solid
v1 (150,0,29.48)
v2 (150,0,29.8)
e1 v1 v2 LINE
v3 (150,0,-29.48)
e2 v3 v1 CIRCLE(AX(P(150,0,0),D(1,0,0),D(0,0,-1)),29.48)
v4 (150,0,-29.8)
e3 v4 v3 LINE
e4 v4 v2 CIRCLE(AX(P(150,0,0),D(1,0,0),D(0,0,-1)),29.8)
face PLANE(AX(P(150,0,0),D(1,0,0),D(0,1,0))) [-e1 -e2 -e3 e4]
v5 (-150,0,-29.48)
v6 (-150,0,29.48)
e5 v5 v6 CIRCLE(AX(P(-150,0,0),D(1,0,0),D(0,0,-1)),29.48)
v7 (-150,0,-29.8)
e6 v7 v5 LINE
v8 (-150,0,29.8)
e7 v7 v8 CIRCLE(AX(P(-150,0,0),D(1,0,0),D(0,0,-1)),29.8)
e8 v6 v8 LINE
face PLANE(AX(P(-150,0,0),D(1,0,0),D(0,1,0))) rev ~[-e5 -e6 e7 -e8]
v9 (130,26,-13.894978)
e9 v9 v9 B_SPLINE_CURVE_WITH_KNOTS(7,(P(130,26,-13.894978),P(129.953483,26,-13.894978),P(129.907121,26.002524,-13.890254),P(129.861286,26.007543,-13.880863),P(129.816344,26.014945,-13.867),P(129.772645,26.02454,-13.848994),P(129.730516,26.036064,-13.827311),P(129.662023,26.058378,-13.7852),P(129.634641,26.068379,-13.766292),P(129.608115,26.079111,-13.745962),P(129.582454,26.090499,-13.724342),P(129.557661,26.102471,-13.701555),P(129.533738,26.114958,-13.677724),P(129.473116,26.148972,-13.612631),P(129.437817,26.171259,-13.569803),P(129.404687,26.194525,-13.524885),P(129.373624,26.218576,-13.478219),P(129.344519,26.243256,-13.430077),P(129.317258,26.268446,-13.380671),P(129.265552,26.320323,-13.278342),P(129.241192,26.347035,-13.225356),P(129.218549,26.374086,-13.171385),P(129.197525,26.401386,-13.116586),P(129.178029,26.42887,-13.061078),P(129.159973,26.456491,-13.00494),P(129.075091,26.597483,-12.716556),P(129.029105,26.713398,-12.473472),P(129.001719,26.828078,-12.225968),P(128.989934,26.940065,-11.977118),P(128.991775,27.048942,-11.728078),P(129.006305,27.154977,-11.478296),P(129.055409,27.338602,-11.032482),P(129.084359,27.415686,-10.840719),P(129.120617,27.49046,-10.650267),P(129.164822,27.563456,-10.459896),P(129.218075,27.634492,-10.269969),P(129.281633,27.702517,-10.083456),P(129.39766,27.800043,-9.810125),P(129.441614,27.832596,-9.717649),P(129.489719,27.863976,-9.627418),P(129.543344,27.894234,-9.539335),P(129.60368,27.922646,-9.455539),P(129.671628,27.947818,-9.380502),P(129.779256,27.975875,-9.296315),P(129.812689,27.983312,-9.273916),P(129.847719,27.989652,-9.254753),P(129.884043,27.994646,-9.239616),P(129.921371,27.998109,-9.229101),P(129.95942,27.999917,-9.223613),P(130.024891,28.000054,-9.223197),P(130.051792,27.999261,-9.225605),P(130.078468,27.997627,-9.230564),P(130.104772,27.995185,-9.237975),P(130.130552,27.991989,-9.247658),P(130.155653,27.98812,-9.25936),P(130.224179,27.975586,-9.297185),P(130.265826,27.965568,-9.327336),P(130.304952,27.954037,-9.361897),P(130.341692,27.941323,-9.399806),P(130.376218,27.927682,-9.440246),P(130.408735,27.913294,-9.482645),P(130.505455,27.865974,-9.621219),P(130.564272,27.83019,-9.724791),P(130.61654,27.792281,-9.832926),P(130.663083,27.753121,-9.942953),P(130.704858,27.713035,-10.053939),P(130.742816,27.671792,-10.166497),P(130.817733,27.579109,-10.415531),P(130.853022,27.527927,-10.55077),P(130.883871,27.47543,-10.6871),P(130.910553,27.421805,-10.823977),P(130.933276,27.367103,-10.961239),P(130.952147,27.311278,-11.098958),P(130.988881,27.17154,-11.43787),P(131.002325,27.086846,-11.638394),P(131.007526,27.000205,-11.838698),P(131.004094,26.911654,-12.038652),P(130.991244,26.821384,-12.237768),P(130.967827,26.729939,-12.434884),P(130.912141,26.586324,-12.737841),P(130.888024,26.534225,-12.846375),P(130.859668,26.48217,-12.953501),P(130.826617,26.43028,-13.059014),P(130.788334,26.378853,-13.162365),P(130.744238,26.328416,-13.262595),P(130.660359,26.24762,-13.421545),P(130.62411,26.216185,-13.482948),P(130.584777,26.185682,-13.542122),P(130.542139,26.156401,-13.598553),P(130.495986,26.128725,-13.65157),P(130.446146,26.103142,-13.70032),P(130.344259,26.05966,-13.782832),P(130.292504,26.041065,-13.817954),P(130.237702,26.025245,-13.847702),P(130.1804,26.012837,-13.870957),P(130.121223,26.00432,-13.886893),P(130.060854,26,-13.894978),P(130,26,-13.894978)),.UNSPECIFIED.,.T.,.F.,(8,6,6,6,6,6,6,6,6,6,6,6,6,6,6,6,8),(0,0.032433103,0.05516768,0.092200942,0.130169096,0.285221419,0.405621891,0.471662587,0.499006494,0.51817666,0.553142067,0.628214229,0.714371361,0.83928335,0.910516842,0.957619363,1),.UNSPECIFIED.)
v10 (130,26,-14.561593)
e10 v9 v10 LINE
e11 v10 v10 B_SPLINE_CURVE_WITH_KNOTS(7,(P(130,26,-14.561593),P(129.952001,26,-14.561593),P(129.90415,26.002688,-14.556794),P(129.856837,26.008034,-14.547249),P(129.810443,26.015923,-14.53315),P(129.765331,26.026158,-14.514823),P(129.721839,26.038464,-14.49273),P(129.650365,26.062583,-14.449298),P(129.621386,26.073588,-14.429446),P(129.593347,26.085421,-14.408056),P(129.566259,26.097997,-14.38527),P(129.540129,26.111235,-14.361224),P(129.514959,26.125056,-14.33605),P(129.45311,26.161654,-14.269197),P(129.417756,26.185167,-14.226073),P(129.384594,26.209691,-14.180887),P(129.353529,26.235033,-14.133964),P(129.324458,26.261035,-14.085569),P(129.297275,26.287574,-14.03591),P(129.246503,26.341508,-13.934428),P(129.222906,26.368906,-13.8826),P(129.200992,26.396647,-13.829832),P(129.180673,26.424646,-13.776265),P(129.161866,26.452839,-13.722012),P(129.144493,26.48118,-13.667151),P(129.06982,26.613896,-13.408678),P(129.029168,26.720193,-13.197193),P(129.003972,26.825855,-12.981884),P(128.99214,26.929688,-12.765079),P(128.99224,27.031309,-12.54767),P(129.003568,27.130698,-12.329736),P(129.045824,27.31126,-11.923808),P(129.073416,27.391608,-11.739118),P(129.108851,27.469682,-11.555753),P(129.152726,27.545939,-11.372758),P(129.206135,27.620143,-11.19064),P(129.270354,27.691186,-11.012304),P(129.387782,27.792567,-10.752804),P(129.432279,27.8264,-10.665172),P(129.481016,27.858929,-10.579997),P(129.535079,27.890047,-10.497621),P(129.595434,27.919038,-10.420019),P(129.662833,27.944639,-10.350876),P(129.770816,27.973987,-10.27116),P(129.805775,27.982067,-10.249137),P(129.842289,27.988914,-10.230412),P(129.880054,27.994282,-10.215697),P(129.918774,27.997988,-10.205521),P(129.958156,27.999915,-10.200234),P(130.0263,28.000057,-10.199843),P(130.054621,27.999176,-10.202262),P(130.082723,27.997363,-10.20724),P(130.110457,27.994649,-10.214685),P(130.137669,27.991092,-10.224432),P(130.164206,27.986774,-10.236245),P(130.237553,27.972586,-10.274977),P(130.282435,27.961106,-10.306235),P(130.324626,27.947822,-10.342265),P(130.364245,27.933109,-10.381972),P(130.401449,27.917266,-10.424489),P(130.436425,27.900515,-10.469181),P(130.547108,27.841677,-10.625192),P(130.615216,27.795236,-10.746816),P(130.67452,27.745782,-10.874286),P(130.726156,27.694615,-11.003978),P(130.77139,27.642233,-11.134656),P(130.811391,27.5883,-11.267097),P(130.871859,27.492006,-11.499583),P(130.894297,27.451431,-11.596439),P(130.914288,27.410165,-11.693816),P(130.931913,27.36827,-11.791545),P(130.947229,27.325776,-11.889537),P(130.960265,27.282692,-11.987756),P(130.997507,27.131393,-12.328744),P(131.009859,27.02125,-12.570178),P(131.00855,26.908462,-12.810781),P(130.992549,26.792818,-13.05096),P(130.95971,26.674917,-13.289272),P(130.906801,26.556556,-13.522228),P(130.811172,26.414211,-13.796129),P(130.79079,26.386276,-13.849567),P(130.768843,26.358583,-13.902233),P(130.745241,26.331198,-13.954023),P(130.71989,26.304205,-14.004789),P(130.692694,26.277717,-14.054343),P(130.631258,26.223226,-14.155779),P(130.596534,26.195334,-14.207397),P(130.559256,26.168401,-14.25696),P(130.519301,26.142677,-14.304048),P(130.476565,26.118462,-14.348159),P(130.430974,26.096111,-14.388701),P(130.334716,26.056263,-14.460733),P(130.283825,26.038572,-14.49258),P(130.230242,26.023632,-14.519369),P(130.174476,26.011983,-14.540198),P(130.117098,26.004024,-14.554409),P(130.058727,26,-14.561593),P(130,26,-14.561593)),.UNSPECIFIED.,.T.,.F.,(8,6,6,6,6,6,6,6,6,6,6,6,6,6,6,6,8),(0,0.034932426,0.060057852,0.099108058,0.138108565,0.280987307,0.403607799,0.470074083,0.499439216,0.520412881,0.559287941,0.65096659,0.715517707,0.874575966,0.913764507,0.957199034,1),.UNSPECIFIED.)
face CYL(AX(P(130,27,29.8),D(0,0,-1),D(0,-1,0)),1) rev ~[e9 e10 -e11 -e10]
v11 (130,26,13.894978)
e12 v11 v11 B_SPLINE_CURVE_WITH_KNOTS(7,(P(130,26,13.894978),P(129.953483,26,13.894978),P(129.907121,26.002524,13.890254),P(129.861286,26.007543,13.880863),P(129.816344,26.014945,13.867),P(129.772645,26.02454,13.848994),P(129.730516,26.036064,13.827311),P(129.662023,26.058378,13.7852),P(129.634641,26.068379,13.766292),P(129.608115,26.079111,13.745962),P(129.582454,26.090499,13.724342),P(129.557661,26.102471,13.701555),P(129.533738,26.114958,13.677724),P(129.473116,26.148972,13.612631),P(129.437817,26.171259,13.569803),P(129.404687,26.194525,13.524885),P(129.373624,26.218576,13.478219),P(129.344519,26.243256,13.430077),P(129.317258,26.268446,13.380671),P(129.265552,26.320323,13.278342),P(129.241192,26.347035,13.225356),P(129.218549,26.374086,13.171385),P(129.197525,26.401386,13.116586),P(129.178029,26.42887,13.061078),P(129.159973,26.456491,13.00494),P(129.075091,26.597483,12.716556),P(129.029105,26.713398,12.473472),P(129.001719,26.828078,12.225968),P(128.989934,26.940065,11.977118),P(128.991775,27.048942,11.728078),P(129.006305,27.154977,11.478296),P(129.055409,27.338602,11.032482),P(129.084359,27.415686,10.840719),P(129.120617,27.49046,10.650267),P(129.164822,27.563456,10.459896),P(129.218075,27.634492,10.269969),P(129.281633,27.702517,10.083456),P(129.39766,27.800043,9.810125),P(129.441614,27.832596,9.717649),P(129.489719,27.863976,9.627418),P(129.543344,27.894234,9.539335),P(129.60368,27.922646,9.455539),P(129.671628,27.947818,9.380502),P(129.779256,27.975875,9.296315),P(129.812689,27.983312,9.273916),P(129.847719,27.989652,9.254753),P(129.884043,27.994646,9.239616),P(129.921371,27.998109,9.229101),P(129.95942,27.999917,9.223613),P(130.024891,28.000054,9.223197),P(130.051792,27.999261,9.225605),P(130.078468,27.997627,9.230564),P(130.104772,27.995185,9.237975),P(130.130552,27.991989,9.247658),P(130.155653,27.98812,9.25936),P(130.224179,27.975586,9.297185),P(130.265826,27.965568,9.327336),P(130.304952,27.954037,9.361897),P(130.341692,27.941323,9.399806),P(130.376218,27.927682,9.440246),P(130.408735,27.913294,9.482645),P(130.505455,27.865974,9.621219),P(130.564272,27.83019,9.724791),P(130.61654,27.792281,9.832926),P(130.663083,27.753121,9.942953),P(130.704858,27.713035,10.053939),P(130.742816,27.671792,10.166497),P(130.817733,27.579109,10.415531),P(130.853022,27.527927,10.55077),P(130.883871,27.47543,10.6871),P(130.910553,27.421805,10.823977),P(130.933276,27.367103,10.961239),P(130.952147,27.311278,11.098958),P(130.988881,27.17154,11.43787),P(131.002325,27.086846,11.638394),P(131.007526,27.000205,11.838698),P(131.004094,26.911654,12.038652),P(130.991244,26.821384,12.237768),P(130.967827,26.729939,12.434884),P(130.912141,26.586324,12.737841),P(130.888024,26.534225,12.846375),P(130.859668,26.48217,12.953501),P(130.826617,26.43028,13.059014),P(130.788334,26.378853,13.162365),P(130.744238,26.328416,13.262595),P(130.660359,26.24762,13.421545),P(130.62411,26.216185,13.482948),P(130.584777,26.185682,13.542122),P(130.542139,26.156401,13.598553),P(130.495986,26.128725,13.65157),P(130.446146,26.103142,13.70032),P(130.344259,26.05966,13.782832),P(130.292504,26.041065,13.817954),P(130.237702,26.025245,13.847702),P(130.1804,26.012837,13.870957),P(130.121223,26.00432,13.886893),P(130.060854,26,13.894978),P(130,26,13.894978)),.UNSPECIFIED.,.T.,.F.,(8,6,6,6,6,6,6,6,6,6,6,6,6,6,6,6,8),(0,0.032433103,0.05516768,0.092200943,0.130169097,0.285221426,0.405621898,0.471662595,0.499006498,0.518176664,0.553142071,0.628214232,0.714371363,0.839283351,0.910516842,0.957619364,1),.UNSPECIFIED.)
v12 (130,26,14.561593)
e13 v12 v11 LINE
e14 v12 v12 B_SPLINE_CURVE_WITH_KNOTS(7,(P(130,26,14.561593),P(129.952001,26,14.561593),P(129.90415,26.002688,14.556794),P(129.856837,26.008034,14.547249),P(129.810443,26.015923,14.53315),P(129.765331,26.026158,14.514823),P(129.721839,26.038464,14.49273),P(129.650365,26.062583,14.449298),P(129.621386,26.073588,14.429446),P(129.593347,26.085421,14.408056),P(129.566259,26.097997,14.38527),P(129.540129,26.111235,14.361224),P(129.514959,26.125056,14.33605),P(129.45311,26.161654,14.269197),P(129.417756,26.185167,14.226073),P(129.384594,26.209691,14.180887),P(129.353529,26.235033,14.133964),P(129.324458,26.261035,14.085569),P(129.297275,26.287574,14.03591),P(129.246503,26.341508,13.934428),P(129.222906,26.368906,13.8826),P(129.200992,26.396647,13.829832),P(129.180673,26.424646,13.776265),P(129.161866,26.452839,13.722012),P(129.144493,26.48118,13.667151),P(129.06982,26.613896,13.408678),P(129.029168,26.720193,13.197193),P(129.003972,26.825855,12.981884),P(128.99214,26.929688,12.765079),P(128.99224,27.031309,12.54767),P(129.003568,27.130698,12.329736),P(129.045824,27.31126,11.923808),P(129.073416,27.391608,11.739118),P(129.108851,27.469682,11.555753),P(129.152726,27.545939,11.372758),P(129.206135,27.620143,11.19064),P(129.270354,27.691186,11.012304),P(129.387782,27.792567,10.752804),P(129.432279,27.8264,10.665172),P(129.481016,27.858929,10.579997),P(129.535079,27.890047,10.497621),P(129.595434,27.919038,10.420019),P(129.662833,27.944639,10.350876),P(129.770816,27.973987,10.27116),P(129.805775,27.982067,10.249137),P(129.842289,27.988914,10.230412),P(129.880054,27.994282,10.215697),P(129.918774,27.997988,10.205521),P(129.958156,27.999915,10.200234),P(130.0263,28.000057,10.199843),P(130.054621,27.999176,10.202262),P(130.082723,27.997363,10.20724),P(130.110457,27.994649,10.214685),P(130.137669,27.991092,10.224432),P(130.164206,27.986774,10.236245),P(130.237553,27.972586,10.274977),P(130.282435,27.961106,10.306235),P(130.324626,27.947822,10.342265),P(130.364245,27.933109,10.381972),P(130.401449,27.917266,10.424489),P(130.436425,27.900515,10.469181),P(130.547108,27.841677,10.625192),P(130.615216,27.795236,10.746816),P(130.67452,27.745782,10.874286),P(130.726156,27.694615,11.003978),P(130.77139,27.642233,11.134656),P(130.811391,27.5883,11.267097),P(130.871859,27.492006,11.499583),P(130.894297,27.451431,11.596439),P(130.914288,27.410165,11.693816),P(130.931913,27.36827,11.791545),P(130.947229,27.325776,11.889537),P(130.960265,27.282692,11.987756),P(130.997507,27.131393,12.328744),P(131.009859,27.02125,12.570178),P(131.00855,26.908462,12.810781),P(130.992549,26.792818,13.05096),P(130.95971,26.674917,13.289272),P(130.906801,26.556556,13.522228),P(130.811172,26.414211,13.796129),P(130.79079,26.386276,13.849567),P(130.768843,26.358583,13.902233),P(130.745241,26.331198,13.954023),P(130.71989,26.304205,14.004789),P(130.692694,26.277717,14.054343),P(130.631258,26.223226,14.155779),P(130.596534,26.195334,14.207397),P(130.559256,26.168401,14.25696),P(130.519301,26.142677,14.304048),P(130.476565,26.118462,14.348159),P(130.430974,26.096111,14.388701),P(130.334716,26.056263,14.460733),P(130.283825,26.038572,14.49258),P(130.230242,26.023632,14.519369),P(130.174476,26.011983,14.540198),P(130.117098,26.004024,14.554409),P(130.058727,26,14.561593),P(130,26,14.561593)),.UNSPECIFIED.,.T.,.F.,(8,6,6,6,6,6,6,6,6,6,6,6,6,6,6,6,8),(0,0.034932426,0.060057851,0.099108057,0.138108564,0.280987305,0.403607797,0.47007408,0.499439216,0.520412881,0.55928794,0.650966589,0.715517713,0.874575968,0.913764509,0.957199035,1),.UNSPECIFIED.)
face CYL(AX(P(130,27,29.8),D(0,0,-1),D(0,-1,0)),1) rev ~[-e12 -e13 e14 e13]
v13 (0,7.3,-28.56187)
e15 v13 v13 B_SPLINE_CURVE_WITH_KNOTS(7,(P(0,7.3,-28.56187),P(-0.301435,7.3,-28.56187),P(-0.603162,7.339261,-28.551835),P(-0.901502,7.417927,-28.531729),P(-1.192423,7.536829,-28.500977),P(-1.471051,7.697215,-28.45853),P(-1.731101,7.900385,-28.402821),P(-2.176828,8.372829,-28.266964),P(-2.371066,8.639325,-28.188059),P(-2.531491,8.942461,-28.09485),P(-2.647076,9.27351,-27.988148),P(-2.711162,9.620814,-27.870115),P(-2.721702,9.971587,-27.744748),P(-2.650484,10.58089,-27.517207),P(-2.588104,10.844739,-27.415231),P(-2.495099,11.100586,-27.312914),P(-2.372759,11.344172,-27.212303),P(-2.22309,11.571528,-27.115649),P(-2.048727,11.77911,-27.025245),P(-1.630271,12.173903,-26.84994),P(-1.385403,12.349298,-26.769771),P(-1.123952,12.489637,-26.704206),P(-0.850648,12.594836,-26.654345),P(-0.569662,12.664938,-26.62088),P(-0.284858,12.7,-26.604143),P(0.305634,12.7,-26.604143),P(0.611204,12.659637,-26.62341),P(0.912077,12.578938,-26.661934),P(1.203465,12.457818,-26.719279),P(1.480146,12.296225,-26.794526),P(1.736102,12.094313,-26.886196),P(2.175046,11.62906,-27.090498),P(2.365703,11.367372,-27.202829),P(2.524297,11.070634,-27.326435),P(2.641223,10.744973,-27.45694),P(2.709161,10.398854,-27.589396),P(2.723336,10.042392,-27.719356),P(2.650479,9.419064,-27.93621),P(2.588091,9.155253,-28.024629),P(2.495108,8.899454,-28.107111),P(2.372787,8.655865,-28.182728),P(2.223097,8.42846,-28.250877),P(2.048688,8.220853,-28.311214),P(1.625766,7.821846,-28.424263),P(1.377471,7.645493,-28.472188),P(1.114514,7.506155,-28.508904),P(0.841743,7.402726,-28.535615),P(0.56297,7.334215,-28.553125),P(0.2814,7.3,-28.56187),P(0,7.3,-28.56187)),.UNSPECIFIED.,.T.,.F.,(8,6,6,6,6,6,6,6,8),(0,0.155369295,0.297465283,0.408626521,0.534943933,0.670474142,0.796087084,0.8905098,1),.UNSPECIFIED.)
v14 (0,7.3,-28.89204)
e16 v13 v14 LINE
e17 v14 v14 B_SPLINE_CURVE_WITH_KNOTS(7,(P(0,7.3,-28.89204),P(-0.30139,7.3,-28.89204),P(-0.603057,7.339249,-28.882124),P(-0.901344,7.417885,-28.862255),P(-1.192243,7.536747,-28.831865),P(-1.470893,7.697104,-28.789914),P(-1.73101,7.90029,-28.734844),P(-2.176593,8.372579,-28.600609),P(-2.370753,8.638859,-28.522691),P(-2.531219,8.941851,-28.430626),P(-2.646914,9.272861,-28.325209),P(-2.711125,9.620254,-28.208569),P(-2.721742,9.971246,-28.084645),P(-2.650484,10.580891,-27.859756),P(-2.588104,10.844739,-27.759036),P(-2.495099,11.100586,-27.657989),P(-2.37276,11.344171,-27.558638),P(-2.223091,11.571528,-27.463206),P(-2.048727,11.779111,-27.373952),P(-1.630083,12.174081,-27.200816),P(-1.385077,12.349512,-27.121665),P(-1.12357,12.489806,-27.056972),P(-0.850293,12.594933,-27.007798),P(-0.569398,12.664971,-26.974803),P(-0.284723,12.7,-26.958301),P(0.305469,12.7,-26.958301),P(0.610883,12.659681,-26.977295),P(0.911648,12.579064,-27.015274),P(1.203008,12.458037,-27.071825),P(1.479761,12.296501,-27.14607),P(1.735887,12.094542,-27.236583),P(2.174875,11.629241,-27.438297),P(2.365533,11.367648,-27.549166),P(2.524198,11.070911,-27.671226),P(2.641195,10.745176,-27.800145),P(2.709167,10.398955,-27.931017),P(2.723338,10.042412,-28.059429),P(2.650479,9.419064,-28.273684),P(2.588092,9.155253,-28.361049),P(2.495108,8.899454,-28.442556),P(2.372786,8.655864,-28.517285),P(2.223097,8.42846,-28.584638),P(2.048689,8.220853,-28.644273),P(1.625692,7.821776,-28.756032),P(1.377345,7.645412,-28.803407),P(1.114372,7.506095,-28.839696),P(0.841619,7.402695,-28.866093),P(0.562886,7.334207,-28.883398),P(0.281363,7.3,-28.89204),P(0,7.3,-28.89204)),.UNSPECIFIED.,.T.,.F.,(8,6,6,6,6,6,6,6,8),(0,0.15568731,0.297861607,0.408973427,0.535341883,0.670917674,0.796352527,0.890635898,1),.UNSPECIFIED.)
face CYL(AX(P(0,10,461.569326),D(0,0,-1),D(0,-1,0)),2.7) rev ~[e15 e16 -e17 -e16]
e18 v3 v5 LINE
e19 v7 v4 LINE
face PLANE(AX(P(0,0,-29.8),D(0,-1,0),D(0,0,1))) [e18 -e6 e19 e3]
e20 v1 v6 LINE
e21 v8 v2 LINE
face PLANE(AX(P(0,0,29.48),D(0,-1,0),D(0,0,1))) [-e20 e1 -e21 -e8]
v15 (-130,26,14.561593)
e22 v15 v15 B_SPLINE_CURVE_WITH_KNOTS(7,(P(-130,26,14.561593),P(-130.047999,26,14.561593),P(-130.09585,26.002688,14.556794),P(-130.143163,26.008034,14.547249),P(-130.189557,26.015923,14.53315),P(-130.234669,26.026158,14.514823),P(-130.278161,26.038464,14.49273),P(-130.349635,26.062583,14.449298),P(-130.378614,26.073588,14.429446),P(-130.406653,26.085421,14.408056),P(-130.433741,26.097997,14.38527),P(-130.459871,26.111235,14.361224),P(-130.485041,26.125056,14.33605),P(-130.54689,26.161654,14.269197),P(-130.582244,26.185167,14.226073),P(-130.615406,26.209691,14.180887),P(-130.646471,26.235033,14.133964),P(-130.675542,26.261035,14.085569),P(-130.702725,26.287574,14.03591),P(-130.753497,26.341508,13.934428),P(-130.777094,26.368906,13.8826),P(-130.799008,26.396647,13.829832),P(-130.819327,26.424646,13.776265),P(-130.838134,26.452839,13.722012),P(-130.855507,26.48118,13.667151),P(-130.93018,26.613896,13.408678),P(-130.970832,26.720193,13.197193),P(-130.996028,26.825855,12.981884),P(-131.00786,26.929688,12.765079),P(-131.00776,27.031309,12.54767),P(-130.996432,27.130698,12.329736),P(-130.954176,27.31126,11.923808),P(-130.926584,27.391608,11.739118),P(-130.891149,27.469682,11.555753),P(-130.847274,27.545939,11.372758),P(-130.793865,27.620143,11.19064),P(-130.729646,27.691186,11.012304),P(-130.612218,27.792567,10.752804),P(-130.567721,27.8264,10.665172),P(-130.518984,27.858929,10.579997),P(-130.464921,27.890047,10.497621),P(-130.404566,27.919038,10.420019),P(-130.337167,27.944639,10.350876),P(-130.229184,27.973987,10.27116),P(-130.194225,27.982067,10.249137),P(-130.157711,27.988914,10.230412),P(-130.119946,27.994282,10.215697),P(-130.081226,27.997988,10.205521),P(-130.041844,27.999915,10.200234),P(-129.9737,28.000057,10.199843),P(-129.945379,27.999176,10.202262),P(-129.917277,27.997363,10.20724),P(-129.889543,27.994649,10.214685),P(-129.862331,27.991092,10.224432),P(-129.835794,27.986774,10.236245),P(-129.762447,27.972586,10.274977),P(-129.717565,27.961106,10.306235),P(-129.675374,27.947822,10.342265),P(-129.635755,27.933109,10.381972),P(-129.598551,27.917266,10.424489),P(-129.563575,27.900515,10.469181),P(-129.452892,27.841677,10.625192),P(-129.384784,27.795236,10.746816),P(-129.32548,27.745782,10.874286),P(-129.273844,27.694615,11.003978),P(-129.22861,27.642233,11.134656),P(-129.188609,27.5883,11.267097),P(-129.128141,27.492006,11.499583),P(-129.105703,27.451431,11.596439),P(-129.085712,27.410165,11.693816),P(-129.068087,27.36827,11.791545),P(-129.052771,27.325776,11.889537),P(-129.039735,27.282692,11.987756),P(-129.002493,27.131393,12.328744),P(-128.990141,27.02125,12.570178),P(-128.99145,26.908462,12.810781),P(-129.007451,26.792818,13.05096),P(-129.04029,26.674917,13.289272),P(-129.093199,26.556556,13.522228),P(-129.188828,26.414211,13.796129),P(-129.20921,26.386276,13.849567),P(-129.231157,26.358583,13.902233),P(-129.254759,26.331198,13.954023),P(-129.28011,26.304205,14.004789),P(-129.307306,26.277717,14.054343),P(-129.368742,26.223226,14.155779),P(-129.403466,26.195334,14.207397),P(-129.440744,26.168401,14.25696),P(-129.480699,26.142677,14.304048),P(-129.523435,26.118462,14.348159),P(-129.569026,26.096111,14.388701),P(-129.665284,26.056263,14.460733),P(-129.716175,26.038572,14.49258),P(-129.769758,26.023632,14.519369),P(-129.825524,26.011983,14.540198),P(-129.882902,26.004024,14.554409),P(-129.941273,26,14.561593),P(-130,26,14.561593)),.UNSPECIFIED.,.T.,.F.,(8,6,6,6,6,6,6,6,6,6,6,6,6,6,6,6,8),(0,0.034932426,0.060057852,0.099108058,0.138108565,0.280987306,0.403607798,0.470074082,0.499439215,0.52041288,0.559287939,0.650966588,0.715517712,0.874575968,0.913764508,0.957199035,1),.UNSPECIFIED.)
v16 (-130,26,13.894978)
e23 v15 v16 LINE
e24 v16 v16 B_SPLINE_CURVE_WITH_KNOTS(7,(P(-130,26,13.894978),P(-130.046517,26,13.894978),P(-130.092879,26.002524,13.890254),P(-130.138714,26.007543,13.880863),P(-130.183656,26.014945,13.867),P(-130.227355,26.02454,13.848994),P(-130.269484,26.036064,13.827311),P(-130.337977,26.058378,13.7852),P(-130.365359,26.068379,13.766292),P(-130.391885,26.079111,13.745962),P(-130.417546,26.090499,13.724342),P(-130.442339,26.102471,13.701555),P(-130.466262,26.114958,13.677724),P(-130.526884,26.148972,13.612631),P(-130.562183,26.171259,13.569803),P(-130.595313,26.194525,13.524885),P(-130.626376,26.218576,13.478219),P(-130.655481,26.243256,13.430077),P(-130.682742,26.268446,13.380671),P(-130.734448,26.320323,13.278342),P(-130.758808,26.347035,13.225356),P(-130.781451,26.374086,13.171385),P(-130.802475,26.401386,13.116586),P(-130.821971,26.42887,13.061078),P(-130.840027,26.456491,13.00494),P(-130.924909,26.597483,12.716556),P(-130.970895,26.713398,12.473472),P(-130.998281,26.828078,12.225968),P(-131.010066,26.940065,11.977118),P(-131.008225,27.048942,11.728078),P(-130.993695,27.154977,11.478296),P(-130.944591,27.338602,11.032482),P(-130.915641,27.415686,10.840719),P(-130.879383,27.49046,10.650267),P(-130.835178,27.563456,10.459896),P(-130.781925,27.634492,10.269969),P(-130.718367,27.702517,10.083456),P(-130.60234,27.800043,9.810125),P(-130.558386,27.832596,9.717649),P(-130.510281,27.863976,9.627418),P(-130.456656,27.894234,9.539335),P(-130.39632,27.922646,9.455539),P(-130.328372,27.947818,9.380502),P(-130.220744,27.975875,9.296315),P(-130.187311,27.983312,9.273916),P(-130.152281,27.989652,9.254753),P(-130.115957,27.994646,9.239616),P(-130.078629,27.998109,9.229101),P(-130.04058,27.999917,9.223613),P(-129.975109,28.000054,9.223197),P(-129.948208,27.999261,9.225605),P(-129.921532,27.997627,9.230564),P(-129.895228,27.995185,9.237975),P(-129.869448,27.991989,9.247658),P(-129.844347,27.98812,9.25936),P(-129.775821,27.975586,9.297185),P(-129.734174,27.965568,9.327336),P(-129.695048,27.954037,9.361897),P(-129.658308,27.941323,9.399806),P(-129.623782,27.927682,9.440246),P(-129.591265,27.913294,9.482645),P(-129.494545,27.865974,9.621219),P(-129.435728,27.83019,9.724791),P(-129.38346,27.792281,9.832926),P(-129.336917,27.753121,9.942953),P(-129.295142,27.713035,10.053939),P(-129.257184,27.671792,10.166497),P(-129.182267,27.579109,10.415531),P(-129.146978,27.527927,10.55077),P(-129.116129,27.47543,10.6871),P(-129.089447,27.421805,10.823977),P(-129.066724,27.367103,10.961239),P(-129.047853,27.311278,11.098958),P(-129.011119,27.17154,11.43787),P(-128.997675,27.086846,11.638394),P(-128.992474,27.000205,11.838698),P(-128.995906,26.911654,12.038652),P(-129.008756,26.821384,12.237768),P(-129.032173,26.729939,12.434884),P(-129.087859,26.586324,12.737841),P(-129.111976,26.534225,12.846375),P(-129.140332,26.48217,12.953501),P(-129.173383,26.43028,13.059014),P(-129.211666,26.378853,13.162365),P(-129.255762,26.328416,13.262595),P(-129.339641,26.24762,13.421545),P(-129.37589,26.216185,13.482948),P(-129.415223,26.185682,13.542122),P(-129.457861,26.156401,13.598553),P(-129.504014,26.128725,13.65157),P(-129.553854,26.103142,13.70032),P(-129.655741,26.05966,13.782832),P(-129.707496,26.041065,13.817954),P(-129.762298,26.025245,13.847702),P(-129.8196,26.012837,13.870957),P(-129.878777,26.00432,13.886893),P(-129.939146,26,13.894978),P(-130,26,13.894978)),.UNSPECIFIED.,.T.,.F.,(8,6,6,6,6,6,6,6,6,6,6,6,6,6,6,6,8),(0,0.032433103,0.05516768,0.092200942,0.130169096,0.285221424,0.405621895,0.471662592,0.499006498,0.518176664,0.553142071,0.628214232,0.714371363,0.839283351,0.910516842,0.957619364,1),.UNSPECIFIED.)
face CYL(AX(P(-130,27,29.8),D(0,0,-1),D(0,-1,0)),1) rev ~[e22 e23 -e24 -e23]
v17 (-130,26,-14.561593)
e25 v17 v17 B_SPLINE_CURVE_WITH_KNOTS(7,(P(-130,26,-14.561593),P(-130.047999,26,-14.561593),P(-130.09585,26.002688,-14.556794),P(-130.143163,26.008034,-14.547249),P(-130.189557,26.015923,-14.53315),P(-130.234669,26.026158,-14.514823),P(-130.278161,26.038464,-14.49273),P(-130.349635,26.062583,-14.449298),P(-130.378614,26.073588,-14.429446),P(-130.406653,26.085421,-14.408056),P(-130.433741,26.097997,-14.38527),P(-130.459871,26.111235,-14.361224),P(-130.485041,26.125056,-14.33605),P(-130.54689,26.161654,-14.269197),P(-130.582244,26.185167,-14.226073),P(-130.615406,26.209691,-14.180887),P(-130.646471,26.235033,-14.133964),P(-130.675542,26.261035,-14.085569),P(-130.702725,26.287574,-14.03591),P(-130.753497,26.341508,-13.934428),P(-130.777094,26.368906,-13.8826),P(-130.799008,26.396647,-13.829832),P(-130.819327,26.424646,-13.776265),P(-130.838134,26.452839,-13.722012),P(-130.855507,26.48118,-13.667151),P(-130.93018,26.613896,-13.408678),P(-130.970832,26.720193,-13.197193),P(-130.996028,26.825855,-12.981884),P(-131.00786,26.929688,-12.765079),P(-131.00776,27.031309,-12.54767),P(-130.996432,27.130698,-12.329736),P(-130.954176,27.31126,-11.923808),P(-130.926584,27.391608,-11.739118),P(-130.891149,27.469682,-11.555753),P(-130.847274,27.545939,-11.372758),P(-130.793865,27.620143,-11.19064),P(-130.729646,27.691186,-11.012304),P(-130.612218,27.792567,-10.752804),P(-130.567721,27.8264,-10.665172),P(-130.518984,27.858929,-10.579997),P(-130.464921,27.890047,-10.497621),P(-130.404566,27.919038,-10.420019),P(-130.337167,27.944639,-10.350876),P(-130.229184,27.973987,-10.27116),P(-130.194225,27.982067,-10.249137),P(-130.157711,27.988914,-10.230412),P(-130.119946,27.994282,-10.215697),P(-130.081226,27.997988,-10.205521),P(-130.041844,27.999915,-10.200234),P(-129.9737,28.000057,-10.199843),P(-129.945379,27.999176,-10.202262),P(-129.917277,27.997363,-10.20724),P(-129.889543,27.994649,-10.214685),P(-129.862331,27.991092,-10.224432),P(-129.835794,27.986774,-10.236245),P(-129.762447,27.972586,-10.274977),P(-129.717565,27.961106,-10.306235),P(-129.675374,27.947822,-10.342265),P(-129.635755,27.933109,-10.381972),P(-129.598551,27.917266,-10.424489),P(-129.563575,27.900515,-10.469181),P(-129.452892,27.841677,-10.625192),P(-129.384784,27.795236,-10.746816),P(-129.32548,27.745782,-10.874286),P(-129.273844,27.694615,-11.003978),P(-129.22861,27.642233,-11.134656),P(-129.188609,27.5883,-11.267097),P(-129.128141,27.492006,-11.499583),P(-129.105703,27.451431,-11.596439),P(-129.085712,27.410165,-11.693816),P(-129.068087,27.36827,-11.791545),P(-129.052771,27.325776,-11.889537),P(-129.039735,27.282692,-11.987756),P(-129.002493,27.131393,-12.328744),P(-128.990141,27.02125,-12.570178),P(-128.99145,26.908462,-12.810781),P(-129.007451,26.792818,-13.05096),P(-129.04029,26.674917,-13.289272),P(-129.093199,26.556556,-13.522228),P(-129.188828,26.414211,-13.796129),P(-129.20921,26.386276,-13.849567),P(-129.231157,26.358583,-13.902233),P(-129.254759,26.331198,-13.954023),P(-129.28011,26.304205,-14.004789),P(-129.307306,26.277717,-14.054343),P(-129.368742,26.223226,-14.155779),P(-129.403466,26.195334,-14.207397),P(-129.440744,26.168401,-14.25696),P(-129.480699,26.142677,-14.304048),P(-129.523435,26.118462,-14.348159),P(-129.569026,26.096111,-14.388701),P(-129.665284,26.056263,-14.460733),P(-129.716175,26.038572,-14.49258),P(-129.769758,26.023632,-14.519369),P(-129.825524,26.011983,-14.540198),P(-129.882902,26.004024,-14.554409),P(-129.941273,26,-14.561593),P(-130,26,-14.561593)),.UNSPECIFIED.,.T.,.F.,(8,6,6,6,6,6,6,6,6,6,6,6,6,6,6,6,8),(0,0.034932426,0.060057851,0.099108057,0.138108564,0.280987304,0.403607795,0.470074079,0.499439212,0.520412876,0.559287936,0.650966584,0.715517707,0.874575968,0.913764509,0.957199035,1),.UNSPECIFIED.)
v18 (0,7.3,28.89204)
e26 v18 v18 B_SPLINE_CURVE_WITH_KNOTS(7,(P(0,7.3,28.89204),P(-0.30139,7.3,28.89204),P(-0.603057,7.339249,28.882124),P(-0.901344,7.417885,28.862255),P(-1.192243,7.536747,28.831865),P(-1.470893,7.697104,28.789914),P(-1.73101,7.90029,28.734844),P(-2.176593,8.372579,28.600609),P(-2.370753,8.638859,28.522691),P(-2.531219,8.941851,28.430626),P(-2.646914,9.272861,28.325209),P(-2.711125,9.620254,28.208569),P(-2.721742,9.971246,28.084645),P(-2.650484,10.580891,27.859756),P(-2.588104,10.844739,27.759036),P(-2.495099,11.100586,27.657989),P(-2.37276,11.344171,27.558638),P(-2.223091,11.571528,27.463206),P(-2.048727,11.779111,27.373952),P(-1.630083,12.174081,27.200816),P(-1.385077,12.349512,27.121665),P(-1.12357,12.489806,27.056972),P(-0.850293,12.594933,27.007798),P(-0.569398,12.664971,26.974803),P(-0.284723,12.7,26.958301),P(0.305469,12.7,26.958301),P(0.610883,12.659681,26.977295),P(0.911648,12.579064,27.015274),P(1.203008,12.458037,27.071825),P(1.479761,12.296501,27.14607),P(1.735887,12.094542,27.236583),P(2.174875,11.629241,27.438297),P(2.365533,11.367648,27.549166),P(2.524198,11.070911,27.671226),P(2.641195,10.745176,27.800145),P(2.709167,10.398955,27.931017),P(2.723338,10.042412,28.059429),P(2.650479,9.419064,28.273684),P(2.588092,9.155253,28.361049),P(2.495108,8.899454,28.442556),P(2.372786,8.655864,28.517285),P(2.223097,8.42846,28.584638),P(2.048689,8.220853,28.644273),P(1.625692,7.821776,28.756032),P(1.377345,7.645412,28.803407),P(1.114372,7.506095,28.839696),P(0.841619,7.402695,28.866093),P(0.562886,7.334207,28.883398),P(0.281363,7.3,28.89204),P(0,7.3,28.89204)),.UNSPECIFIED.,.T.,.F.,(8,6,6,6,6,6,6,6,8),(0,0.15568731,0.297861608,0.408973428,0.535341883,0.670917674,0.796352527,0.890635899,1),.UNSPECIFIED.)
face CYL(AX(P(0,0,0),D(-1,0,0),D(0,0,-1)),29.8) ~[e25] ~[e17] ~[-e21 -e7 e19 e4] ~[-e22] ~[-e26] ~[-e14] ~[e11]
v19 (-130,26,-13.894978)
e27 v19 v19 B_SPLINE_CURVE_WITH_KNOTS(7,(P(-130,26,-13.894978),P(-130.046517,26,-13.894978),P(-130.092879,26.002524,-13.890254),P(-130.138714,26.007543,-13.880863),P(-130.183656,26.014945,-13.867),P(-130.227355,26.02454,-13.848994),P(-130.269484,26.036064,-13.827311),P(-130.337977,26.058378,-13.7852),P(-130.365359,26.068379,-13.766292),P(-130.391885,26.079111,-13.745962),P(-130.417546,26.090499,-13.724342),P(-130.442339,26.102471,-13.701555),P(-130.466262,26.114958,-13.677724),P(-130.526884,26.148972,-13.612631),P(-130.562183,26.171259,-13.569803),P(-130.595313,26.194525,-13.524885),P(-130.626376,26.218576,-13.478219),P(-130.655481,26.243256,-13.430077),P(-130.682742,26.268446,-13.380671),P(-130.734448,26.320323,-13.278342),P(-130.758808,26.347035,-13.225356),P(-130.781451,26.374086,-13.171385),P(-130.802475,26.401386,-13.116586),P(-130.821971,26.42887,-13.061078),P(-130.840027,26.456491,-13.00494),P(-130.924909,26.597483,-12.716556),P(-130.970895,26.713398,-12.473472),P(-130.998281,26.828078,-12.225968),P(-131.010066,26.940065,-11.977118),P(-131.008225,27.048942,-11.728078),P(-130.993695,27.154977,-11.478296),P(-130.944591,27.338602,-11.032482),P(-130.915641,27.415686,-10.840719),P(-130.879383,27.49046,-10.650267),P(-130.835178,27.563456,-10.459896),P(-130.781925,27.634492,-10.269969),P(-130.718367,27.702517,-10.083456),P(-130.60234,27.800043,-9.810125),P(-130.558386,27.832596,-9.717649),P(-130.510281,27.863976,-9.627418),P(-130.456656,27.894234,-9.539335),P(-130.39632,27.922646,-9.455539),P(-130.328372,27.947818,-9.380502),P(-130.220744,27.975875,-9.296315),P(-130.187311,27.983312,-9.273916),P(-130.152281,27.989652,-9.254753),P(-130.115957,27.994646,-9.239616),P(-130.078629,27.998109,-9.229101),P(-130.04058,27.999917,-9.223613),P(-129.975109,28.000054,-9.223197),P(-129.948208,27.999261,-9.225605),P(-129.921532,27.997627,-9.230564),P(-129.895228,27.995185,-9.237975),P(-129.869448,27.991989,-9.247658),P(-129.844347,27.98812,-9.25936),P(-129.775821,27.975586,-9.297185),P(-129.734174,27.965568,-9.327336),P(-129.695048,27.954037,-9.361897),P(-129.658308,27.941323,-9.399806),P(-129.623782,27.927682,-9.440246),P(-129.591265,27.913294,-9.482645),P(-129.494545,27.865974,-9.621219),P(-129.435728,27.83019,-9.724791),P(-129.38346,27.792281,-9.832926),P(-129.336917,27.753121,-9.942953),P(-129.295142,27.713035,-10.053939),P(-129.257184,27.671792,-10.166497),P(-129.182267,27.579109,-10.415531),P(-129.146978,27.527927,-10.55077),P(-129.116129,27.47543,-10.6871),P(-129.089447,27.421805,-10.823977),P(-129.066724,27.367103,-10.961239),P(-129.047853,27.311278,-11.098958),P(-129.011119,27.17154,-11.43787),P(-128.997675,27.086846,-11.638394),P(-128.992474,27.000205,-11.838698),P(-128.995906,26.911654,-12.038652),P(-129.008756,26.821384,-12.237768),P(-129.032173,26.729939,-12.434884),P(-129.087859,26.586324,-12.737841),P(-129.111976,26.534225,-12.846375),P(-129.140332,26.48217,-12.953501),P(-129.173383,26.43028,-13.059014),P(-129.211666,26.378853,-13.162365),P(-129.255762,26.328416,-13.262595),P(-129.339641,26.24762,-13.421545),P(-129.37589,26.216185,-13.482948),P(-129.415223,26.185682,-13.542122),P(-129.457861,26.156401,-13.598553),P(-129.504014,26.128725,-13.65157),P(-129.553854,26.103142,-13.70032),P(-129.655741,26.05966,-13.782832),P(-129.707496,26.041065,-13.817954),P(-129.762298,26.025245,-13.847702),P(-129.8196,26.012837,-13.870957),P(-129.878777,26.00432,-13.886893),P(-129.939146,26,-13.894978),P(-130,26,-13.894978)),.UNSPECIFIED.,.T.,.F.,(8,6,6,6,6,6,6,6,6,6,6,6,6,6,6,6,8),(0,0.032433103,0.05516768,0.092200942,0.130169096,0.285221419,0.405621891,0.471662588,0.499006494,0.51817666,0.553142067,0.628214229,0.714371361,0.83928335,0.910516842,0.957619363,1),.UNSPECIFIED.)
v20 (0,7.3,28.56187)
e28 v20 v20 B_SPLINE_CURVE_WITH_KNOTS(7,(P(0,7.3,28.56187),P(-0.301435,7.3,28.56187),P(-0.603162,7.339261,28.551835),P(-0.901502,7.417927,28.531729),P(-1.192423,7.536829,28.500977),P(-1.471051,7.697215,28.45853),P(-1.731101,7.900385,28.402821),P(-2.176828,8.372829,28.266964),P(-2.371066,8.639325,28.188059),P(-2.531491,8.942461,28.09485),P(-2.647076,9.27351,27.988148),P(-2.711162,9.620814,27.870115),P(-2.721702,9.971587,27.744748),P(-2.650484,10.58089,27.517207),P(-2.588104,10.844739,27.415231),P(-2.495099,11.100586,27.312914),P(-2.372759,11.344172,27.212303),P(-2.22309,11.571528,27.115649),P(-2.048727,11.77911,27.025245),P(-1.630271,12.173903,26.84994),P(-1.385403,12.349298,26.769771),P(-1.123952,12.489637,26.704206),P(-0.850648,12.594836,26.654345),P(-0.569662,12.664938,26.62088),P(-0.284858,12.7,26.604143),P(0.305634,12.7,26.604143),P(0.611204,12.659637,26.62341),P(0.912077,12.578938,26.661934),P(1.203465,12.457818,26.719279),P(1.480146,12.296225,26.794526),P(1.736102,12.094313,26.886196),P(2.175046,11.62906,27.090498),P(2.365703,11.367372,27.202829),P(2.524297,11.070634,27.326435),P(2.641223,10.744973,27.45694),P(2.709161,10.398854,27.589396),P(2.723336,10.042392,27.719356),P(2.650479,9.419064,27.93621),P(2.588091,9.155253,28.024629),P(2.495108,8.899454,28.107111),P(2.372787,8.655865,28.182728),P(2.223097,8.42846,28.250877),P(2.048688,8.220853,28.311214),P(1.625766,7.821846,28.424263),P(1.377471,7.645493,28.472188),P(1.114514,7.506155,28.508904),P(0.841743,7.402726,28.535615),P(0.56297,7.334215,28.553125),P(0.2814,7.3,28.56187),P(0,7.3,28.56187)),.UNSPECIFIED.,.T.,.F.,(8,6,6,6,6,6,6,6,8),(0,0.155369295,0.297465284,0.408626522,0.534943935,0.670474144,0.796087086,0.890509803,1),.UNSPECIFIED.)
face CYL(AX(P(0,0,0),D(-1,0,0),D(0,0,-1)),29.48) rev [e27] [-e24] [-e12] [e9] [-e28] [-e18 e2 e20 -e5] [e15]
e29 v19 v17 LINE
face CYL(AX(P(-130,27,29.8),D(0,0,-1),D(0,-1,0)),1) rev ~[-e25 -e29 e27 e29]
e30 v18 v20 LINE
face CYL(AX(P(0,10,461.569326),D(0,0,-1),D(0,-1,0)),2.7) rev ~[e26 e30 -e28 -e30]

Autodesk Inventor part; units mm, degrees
ref_plane "YZ Plane" through (0, 0, 0) normal (1, 0, 0) x (0, 1, 0)
ref_plane "XZ Plane" through (0, 0, 0) normal (0, 1, 0) x (-1, 0, 0)
sketch "Sketch1" plane through (0, 0, 0) normal (1, 0, 0) x (0, 1, 0)
  arc A0 (0, -29.8) -> (0, 29.8) centre (0, 0) ccw
  arc A1 (0, -29.48) -> (0, 29.48) centre (0, 0) ccw
  line L0 (0, -29.8) -> (0, -29.48)
  line L1 (0, 29.48) -> (0, 29.8)
  dimension "d0" = 29.8
  dimension "d1" = 59.6
  dimension "d4" = 29.48
extrude "Extrusion1" add sketch "Sketch1" along normal mid plane 300
sketch "Sketch2" plane through (0, 0, 0) normal (0, 0, 1) x (1, 0, 0)
  line L0 (-150, 0) -> (150, 0) projected
  line L1 (-150, 0) -> (150, 0) projected
  line L2 (150, 0) -> (150, 0) projected
  line L3 (150, 0) -> (-150, 0) projected
  line L4 (-150, 0) -> (-150, 0) projected
  point P0 (0, 0)
  point P1 (0, 10)
  point P2 (-134.6305, 7.2182)
  dimension "d7" = 10
hole "Hole1" at (0, 10, 0) direction (0, 0, -1) diameter 5.4 end through all both
ref_plane "Work Plane1" through (0, 0, 29.8) normal (0, 0, 1) x (1, 0, 0)
sketch "Sketch3" plane through (0, 0, 29.8) normal (0, 0, 1) x (1, 0, 0)
  line L0 (-150, 29.8) -> (-150, 0) projected
  line L1 (-150, 0) -> (150, 0) projected
  line L2 (150, 0) -> (150, 29.8) projected
  point P0 (0, 0)
  point P1 (-130, 27)
  point P2 (130, 27)
  dimension "d16" = 20
  dimension "d17" = 27
  dimension "d19" = 260
hole "Hole2" at (-130, 27, 29.8) at (130, 27, 29.8) direction (0, 0, -1) diameter 2 end through all
properties part number "tubo PVC"
